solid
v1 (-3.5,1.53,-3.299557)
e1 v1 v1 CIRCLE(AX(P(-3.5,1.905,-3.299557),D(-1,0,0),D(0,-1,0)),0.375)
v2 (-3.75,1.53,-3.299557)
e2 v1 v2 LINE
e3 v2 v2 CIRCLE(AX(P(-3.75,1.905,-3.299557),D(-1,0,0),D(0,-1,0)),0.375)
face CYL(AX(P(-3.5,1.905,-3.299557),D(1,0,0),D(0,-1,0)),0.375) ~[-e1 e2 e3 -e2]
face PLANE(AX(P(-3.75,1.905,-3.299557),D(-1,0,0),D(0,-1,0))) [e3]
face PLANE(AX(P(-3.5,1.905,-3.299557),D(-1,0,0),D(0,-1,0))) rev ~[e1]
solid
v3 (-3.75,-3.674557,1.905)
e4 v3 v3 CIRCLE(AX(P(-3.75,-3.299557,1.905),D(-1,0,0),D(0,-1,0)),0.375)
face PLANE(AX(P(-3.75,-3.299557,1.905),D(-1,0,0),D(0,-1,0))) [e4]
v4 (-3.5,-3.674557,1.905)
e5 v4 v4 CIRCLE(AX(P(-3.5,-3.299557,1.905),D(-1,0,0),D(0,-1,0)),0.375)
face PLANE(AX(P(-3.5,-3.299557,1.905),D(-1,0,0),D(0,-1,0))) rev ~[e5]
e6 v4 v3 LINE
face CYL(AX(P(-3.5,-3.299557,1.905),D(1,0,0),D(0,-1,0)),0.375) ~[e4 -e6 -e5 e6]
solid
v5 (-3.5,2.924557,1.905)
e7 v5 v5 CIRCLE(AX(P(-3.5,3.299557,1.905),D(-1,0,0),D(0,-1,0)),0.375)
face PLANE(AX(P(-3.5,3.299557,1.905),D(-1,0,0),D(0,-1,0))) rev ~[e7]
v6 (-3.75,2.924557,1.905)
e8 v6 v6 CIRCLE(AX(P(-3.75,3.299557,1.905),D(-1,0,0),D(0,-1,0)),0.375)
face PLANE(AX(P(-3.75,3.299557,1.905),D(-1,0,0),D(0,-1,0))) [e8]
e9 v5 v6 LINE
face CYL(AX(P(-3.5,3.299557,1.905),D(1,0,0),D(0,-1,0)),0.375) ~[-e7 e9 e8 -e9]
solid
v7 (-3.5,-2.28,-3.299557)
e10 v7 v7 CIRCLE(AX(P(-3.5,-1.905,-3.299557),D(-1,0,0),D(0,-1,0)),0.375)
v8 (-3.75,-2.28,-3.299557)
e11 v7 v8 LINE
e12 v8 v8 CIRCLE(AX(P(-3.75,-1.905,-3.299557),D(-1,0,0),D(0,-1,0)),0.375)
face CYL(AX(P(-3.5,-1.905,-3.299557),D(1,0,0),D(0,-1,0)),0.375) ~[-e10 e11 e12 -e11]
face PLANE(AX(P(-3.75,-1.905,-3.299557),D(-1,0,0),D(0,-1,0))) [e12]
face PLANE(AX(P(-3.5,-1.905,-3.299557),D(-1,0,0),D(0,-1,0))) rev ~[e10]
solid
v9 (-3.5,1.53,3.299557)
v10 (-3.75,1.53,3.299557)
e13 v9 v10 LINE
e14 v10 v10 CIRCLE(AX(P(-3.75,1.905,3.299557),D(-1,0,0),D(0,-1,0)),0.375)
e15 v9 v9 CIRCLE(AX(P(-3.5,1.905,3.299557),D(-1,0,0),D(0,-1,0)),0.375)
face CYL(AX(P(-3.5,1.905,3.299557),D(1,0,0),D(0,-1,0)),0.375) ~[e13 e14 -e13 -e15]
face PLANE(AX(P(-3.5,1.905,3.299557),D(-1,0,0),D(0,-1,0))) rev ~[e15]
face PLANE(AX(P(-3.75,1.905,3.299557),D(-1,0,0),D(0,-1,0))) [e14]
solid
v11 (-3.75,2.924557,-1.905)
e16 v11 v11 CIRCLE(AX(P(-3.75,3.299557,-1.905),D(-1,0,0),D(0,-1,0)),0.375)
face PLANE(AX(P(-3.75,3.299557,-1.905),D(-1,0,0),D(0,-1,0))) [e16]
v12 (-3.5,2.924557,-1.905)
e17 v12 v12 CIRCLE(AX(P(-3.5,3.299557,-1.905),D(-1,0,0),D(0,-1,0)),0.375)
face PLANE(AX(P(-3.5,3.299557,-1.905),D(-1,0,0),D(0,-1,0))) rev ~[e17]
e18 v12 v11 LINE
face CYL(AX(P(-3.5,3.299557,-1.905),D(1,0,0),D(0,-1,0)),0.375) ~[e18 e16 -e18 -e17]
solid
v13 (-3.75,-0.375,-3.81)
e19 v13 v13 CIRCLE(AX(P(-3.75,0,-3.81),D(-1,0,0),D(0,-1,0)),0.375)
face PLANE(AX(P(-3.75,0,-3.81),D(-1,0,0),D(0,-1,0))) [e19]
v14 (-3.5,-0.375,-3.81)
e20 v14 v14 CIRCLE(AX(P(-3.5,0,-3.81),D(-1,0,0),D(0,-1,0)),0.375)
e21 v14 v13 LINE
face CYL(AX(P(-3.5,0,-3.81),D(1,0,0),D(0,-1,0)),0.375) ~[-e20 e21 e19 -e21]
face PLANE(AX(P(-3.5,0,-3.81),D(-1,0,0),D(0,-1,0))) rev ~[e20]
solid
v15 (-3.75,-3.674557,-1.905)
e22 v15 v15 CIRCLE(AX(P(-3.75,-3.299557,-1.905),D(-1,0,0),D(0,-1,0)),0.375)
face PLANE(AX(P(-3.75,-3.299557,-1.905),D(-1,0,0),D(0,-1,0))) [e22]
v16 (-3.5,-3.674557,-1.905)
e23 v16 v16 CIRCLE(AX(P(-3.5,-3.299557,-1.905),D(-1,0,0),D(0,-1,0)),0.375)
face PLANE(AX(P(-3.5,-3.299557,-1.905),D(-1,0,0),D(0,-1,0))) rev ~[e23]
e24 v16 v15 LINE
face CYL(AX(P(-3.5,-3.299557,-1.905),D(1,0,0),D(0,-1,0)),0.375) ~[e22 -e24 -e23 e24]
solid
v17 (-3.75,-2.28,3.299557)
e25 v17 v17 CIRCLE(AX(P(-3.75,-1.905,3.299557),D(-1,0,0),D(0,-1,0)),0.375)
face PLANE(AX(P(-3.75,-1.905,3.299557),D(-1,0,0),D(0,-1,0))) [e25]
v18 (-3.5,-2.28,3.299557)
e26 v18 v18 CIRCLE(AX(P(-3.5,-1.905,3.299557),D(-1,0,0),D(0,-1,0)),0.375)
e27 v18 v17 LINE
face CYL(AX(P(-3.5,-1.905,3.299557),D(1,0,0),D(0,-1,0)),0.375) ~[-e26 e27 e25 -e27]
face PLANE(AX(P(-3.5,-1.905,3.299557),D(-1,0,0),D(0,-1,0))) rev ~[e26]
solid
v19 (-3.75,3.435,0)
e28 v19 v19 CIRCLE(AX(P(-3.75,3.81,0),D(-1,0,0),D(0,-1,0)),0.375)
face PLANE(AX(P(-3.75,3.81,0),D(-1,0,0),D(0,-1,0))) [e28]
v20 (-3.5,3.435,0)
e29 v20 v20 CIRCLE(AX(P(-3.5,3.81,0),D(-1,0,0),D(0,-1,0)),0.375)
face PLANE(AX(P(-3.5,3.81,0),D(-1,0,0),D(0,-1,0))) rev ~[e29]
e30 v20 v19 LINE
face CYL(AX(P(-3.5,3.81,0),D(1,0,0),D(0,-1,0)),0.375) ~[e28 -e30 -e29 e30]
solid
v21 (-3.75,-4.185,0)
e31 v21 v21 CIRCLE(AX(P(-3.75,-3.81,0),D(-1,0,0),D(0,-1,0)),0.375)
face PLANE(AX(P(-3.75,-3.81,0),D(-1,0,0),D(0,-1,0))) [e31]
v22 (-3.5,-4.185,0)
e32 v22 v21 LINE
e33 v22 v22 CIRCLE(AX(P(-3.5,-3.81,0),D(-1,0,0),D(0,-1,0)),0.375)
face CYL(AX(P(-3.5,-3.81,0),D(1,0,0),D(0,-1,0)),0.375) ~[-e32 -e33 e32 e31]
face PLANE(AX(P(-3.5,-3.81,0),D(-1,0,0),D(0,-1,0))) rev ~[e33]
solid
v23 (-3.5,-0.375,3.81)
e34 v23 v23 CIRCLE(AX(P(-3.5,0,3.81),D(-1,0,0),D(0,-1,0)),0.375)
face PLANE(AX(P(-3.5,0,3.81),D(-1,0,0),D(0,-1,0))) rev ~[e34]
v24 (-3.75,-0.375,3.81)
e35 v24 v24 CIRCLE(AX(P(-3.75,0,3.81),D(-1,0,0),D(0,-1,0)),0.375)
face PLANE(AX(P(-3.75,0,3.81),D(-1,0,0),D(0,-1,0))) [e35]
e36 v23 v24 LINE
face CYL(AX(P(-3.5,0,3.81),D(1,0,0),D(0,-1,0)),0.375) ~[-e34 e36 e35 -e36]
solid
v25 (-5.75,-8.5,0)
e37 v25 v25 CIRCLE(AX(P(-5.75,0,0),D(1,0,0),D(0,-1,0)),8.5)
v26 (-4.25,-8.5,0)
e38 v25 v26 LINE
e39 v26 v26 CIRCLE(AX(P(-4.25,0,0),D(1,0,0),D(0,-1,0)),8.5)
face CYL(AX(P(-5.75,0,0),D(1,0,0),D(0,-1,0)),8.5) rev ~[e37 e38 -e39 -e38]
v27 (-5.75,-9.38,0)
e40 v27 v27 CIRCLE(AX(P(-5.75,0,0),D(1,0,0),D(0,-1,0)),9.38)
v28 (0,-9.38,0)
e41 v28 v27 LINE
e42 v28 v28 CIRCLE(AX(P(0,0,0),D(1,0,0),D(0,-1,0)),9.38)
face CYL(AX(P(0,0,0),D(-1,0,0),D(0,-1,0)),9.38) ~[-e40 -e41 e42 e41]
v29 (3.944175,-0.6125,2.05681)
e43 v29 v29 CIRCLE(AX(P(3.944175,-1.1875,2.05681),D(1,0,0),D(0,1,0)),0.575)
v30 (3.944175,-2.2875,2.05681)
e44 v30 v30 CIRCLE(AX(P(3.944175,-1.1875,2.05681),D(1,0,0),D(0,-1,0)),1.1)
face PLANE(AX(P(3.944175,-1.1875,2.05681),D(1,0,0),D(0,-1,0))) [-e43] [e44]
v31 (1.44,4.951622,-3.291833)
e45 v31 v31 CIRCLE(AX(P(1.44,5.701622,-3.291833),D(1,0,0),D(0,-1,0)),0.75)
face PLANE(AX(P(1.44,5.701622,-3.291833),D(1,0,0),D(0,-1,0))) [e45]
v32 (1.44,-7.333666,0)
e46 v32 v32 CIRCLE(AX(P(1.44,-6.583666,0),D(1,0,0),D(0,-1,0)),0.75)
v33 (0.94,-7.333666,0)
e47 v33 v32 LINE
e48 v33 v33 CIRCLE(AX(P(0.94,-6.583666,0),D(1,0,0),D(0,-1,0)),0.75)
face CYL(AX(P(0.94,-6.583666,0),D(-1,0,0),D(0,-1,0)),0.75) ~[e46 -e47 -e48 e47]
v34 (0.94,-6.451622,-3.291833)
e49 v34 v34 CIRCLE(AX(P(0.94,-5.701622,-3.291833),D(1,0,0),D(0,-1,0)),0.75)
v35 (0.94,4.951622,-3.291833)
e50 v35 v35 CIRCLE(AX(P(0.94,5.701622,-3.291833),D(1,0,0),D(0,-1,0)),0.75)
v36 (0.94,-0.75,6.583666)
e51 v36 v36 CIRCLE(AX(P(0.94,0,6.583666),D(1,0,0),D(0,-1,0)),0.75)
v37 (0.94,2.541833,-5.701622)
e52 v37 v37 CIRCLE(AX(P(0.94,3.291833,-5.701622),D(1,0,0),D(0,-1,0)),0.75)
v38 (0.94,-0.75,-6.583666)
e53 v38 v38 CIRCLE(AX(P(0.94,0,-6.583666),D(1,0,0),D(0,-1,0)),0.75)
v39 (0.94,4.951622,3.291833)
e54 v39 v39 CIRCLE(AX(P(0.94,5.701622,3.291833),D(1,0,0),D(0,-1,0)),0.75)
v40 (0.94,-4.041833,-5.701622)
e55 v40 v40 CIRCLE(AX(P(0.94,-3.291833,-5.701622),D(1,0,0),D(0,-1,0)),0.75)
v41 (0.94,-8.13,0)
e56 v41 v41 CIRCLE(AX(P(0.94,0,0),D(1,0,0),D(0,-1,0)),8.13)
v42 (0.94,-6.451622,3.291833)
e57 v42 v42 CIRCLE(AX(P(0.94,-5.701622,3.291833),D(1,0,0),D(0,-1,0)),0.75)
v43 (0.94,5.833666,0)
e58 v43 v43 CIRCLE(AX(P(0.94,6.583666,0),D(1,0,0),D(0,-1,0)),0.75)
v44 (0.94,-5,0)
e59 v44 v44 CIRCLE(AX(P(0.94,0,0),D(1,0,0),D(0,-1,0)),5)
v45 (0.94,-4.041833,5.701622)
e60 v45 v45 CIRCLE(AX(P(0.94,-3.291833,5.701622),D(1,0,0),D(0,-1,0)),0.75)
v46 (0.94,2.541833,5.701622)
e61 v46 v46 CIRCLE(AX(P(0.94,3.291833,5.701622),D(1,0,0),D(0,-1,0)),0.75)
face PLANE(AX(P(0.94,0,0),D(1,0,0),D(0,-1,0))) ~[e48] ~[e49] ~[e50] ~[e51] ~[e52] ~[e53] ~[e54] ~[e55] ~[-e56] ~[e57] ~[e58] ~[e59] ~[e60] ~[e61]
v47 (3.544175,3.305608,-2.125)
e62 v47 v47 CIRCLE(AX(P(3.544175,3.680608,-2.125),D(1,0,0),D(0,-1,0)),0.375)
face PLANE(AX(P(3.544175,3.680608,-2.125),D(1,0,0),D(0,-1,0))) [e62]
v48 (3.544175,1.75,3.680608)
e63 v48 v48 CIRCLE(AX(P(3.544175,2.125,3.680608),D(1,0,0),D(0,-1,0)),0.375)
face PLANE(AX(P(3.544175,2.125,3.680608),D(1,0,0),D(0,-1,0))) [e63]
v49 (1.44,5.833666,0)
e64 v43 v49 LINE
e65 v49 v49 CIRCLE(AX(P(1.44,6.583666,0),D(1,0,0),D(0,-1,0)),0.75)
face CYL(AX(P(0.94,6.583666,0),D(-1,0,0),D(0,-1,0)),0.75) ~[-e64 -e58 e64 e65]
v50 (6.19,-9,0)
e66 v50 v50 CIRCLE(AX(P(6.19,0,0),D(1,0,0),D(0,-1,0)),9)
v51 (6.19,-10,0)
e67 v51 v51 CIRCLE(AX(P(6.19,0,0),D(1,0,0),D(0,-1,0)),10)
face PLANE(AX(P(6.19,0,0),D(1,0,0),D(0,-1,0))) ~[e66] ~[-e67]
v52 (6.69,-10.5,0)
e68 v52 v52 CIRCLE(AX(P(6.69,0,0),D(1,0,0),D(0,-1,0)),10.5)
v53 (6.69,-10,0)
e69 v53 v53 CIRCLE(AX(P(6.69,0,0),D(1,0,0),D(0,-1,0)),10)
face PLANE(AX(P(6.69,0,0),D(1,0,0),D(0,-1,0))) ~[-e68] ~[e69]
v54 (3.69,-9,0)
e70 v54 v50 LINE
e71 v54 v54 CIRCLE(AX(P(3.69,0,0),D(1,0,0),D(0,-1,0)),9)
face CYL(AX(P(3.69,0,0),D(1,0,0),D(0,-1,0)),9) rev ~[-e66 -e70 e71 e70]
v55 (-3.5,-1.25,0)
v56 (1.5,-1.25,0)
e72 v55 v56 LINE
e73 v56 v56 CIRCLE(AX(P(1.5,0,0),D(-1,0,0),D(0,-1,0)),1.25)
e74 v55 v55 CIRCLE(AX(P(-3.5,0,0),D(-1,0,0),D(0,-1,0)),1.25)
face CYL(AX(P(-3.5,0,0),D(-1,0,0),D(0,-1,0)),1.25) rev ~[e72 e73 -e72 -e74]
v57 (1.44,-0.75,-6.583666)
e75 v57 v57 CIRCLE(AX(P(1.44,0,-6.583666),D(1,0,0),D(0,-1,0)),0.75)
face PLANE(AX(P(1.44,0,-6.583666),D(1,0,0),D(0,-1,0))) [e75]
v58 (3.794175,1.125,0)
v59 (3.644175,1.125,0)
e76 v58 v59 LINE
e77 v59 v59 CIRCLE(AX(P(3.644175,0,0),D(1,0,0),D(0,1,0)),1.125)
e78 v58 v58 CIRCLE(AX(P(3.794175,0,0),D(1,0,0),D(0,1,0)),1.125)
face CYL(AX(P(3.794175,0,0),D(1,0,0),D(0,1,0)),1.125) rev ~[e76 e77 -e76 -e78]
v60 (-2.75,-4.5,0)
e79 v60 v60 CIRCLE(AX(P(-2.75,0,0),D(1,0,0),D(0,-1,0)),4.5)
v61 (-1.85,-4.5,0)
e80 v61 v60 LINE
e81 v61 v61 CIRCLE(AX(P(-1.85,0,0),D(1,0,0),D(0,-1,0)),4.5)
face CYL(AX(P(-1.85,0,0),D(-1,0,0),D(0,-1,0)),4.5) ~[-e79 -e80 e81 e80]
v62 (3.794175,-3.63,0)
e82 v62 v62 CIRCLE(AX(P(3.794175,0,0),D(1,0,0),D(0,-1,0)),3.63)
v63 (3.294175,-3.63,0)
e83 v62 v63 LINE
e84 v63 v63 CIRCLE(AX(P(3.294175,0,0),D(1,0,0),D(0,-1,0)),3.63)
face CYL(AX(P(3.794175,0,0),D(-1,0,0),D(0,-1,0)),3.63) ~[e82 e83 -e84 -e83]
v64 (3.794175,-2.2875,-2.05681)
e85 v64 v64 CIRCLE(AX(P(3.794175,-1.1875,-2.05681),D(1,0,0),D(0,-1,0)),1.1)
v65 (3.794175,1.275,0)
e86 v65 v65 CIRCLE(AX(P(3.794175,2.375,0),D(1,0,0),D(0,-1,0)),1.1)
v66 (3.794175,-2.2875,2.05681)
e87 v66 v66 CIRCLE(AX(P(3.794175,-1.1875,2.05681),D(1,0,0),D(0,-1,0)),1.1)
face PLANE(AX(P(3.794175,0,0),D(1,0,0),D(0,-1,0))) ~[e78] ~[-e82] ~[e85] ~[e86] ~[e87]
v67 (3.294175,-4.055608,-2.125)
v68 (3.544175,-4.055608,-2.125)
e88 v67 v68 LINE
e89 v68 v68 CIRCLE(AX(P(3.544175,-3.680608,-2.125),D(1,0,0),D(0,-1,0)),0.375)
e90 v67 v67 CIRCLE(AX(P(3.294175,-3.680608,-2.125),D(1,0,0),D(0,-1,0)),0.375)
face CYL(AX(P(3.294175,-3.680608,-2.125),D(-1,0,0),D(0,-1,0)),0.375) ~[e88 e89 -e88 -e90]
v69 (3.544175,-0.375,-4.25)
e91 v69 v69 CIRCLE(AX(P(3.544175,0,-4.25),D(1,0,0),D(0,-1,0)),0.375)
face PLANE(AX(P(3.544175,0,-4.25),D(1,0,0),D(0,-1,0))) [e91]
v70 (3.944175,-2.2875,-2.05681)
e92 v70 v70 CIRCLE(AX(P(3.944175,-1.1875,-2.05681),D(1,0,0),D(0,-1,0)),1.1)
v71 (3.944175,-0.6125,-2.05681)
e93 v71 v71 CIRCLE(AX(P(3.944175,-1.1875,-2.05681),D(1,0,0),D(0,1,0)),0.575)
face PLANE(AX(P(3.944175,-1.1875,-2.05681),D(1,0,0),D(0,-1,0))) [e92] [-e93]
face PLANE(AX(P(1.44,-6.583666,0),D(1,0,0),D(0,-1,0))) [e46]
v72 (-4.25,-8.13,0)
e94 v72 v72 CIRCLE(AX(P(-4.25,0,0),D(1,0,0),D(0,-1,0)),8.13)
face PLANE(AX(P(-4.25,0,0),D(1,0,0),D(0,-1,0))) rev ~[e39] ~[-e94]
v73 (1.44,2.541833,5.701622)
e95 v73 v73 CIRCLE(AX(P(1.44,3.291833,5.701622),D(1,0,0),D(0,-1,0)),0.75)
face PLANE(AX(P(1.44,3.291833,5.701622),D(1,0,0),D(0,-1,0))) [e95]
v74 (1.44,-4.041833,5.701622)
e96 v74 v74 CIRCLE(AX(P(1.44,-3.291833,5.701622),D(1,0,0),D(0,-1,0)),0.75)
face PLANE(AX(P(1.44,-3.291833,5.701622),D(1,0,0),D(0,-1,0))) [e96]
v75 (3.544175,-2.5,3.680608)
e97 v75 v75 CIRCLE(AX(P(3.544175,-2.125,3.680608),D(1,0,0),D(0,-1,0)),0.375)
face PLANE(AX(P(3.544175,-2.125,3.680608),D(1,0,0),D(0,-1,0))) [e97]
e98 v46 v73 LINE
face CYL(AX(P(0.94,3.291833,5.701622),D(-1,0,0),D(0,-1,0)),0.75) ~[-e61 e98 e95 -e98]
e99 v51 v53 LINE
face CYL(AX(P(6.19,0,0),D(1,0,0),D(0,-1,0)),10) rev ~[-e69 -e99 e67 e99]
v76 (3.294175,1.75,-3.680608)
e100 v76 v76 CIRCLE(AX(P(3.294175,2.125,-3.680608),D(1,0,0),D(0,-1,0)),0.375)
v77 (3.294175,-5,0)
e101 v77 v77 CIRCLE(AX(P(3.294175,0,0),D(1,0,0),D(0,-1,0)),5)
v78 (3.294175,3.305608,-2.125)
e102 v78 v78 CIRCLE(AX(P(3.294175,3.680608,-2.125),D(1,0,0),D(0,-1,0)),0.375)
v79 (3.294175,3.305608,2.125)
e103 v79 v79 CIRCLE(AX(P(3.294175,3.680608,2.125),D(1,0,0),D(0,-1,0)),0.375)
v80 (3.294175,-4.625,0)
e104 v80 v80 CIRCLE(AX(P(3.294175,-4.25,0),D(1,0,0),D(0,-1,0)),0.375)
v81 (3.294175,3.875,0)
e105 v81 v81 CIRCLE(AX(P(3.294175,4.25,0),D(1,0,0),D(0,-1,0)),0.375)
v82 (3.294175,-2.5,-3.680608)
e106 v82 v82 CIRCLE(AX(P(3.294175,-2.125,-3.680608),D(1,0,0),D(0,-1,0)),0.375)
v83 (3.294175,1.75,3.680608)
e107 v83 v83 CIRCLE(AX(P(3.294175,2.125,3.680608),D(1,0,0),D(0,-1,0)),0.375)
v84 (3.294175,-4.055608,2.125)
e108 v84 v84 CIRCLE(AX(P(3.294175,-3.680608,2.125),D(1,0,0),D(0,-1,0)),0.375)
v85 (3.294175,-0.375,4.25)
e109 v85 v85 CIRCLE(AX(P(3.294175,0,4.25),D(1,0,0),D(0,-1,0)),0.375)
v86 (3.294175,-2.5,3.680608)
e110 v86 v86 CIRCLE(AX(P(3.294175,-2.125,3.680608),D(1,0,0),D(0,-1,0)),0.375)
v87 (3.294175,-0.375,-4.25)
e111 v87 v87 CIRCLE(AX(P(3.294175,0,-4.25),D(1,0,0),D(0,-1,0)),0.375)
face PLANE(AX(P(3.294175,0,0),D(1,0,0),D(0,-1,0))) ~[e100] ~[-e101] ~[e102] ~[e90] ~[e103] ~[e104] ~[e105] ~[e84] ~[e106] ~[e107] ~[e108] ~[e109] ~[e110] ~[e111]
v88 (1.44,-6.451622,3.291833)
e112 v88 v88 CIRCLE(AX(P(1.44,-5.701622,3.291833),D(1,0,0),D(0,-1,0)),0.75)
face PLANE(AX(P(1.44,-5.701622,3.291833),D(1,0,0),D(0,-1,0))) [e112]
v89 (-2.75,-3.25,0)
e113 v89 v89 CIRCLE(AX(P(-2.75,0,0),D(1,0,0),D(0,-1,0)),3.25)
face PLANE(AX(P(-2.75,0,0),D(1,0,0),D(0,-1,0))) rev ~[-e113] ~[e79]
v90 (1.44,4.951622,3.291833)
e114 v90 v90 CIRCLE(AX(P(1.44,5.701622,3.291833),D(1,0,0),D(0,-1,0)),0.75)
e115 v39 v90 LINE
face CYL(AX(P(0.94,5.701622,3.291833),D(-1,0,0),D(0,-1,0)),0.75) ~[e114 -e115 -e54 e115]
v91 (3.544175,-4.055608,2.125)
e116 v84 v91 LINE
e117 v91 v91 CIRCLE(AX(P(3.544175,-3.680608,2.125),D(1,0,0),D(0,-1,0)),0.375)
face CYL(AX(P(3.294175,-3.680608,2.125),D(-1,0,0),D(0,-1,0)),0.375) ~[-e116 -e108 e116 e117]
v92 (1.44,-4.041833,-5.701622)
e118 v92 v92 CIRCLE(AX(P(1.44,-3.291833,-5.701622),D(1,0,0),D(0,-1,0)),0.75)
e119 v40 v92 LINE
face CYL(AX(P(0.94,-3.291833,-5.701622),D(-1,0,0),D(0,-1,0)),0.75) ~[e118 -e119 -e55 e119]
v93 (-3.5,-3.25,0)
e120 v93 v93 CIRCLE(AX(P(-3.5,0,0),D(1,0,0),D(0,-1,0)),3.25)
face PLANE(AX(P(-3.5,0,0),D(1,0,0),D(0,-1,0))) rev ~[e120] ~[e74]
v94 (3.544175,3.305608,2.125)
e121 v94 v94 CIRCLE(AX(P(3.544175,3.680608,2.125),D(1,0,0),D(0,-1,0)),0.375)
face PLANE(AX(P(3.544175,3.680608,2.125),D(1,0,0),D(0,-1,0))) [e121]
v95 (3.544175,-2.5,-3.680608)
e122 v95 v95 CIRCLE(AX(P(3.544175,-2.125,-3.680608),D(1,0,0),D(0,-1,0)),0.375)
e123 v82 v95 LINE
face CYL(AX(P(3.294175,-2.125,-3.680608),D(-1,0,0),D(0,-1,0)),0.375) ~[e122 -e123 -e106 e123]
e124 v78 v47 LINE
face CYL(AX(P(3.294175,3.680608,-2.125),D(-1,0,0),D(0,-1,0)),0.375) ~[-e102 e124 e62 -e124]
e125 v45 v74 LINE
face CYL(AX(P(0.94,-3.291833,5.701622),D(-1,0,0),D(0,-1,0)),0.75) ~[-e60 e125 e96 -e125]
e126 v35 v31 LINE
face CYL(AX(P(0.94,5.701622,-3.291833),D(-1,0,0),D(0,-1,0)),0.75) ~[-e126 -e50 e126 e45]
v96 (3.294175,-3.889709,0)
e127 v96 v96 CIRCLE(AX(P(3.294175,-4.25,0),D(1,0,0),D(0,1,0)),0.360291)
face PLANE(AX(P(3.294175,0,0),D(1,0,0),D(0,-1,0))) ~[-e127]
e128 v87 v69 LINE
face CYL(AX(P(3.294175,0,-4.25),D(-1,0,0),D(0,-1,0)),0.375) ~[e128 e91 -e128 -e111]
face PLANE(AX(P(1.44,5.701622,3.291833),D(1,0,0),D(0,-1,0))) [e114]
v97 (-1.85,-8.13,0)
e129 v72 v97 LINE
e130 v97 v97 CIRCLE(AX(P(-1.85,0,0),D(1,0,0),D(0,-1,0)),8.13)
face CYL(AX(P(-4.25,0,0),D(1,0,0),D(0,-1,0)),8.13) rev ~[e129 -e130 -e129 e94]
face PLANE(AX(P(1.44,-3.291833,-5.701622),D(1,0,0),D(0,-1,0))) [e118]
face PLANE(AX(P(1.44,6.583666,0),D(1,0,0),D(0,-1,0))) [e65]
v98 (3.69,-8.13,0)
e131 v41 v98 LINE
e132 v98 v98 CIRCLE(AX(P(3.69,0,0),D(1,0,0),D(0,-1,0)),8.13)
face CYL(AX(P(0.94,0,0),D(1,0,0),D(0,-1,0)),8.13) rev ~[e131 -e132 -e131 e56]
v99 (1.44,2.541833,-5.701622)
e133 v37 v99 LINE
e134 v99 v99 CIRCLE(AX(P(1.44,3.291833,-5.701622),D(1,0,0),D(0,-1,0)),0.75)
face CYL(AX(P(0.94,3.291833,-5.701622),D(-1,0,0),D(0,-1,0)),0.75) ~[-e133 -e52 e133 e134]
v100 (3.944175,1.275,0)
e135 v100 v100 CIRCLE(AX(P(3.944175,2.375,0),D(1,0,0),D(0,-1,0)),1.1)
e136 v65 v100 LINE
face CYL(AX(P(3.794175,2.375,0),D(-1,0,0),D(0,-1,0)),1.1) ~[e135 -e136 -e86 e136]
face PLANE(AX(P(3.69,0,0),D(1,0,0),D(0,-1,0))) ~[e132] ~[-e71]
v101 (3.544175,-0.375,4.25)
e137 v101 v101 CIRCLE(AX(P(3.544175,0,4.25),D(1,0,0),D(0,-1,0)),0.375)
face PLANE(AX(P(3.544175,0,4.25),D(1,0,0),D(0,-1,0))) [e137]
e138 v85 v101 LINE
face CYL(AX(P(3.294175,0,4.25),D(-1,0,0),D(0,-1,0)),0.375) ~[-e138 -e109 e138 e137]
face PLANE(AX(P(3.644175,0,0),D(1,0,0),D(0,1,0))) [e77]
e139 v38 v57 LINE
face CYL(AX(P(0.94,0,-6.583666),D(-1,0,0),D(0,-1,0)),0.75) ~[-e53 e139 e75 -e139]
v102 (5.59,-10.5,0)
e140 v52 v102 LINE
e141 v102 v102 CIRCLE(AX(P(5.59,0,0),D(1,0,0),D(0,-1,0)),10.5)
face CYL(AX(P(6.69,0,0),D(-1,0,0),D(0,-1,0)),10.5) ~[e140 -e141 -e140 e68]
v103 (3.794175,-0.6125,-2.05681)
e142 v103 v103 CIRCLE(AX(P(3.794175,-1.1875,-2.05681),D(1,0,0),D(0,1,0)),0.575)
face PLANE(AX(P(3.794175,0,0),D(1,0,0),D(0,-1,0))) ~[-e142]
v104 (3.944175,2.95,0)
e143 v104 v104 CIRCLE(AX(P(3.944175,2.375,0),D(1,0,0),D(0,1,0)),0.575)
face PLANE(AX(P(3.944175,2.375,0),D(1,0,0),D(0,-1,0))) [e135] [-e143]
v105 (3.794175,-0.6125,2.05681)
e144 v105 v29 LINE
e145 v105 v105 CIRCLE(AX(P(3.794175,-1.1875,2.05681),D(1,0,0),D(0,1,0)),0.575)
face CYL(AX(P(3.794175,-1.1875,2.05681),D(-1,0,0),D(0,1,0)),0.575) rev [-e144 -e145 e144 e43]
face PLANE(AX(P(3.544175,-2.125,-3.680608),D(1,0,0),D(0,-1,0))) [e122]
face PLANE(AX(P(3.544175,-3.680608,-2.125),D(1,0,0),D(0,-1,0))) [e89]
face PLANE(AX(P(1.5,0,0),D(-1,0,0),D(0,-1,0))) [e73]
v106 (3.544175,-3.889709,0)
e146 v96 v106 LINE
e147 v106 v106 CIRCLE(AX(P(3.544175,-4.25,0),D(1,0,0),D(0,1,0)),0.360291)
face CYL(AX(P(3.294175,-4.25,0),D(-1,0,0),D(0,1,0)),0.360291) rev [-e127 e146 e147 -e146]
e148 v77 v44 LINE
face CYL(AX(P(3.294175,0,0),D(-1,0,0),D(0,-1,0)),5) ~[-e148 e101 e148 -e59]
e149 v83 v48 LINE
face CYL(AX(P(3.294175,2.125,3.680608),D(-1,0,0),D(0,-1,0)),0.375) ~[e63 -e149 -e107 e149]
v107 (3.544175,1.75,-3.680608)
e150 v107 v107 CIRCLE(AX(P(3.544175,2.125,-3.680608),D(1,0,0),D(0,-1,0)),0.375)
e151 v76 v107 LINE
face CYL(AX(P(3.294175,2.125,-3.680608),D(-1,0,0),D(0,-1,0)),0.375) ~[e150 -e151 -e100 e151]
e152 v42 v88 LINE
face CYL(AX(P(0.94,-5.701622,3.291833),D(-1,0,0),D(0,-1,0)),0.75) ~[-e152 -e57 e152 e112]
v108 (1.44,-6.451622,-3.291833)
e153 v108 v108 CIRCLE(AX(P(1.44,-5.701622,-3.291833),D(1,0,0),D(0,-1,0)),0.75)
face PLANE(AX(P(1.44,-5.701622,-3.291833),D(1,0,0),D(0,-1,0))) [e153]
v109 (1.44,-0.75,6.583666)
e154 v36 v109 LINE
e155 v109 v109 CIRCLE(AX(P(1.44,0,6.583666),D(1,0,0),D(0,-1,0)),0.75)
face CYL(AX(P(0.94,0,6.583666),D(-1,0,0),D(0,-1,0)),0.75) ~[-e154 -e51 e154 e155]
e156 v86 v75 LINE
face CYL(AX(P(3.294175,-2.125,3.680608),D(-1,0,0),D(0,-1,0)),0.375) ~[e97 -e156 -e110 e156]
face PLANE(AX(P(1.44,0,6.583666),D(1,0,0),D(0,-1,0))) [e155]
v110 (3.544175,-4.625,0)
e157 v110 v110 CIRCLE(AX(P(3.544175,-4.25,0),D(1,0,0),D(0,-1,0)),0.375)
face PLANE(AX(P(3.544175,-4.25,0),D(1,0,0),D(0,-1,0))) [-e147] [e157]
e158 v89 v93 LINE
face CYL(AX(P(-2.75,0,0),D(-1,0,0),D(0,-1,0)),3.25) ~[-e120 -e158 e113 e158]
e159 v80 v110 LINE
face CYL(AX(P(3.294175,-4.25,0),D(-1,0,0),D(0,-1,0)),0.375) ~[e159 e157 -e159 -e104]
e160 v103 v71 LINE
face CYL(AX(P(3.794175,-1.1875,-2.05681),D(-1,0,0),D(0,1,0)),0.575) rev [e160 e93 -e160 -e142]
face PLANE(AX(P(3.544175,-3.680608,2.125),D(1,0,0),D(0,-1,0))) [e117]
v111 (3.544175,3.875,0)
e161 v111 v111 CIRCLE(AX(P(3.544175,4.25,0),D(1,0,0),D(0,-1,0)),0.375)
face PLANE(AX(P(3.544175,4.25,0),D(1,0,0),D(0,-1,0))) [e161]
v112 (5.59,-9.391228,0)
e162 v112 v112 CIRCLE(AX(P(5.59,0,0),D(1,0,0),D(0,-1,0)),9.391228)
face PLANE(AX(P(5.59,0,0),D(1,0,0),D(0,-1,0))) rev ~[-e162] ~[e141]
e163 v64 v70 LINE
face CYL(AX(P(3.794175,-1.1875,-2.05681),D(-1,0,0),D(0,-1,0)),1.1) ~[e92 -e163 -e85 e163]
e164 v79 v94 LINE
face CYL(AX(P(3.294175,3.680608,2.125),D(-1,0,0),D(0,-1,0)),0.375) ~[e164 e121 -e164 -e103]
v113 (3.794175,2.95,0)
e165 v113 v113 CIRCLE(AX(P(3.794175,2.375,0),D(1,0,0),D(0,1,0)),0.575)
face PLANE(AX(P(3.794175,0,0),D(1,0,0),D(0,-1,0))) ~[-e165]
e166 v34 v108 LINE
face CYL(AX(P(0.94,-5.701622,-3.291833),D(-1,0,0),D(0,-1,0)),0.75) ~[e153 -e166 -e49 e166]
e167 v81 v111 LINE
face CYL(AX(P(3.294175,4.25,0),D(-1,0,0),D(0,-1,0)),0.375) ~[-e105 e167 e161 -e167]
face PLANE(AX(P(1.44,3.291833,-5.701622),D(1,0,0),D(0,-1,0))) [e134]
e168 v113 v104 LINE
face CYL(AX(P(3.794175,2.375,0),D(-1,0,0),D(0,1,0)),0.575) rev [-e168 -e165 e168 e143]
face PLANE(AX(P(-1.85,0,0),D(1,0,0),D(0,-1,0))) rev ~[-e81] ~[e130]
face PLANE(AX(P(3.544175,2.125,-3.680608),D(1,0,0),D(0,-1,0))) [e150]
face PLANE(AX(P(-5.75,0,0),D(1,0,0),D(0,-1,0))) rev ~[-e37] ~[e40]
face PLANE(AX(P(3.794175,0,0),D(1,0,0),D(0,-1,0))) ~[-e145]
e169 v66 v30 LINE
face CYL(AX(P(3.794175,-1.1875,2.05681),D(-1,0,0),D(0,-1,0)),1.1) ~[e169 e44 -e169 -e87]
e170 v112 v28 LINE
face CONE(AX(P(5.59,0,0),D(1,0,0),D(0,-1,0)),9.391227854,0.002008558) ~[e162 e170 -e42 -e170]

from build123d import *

# Parameters (mm, degrees)
SKETCH2_R              = 0.75
BOSS_EXTRUDE1_DEPTH    = 0.5
SKETCH3_R              = 0.375
SKETCH3_R_2            = 0.360290664
BOSS_EXTRUDE2_DEPTH    = 0.25
SKETCH4_R              = 1.125
CUT_EXTRUDE2_DEPTH     = 0.15
SKETCH5_R              = 1.1
SKETCH5_R_2            = 0.575
BOSS_EXTRUDE3_DEPTH    = 0.15
SKETCH6_R              = 0.375
BOSS_EXTRUDE4_DEPTH    = 0.25
BOSS_EXTRUDE4_2_DEPTH  = 0.25
BOSS_EXTRUDE4_3_DEPTH  = 0.25
BOSS_EXTRUDE4_4_DEPTH  = 0.25
BOSS_EXTRUDE4_5_DEPTH  = 0.25
BOSS_EXTRUDE4_6_DEPTH  = 0.25
BOSS_EXTRUDE4_7_DEPTH  = 0.25
BOSS_EXTRUDE4_8_DEPTH  = 0.25
BOSS_EXTRUDE4_9_DEPTH  = 0.25
BOSS_EXTRUDE4_10_DEPTH = 0.25
BOSS_EXTRUDE4_11_DEPTH = 0.25
BOSS_EXTRUDE4_12_DEPTH = 0.25
SKETCH7_R              = 1.25
CUT_EXTRUDE3_DEPTH     = 5


with BuildPart() as part:
    # Sketch1 → Revolve1 (revolve)
    with BuildSketch(Plane.XY, mode=Mode.PRIVATE) as revolve1_sk:
        Polygon((-3.5, 0), (3.794174888, 0), (3.794174888, 3.63), (3.294174888, 3.63), (3.294174888, 5), (0.94, 5), (0.94, 8.13), (3.69, 8.13), (3.69, 9), (6.19, 9), (6.19, 10), (6.69, 10), (6.69, 10.5), (5.59, 10.5), (5.59, 9.391227854), (0, 9.38), (-5.75, 9.38), (-5.75, 8.5), (-4.25, 8.5), (-4.25, 8.13), (-1.85, 8.13), (-1.85, 4.5), (-2.75, 4.5), (-2.75, 3.25), (-3.5, 3.25), align=None)
    revolve(revolve1_sk.sketch.rotate(Axis((-3.5, 0, 0), (1, 0, 0)), 180), axis=Axis((-3.5, 0, 0), (1, 0, 0)))

    # Sketch2 → Boss-Extrude1 (add)
    with BuildSketch(Plane(origin=(0.94, 0, 0), x_dir=(0, 0, -1), z_dir=(1, 0, 0))):
        with Locations(Location((-3.291833092, 5.701622165, 0), (0, 0, 270))):
            Circle(SKETCH2_R)
        with Locations(Location((0, 6.583666184, 0), (0, 0, 270))):
            Circle(SKETCH2_R)
        with Locations(Location((3.291833092, 5.701622165, 0), (0, 0, 270))):
            Circle(SKETCH2_R)
        with Locations(Location((5.701622165, 3.291833092, 0), (0, 0, 270))):
            Circle(SKETCH2_R)
        with Locations(Location((6.583666184, 0, 0), (0, 0, 270))):
            Circle(SKETCH2_R)
        with Locations(Location((-5.701622165, 3.291833092, 0), (0, 0, 270))):
            Circle(SKETCH2_R)
        with Locations(Location((-5.701622165, -3.291833092, 0), (0, 0, 270))):
            Circle(SKETCH2_R)
        with Locations(Location((-3.291833092, -5.701622165, 0), (0, 0, 270))):
            Circle(SKETCH2_R)
        with Locations(Location((0, -6.583666184, 0), (0, 0, 270))):
            Circle(SKETCH2_R)
        with Locations(Location((5.701622165, -3.291833092, 0), (0, 0, 270))):
            Circle(SKETCH2_R)
        with Locations(Location((-6.583666184, 0, 0), (0, 0, 270))):
            Circle(SKETCH2_R)
        with Locations(Location((3.291833092, -5.701622165, 0), (0, 0, 270))):
            Circle(SKETCH2_R)
    extrude(amount=BOSS_EXTRUDE1_DEPTH)

    # Sketch3 → Boss-Extrude2 (add)
    # profile 1 of 12: a face of its own
    with BuildSketch(Plane(origin=(3.294174888, 0, 0), x_dir=(0, 0, -1), z_dir=(1, 0, 0))):
        with Locations(Location((0, 4.25, 0), (0, 0, 270))):
            Circle(SKETCH3_R)
    # profile 2 of 12: a face of its own
    with BuildSketch(Plane(origin=(3.294174888, 0, 0), x_dir=(0, 0, -1), z_dir=(1, 0, 0))):
        with Locations(Location((2.125, 3.680607966, 0), (0, 0, 270))):
            Circle(SKETCH3_R)
    # profile 3 of 12: a face of its own
    with BuildSketch(Plane(origin=(3.294174888, 0, 0), x_dir=(0, 0, -1), z_dir=(1, 0, 0))):
        with Locations(Location((3.680607966, 2.125, 0), (0, 0, 270))):
            Circle(SKETCH3_R)
    # profile 4 of 12: a face of its own
    with BuildSketch(Plane(origin=(3.294174888, 0, 0), x_dir=(0, 0, -1), z_dir=(1, 0, 0))):
        with Locations(Location((4.25, 0, 0), (0, 0, 270))):
            Circle(SKETCH3_R)
    # profile 5 of 12: a face of its own
    with BuildSketch(Plane(origin=(3.294174888, 0, 0), x_dir=(0, 0, -1), z_dir=(1, 0, 0))):
        with Locations(Location((3.680607966, -2.125, 0), (0, 0, 270))):
            Circle(SKETCH3_R)
    # profile 6 of 12: a face of its own
    with BuildSketch(Plane(origin=(3.294174888, 0, 0), x_dir=(0, 0, -1), z_dir=(1, 0, 0))):
        with Locations(Location((2.125, -3.680607966, 0), (0, 0, 270))):
            Circle(SKETCH3_R)
    # profile 7 of 12: a face of its own
    with BuildSketch(Plane(origin=(3.294174888, 0, 0), x_dir=(0, 0, -1), z_dir=(1, 0, 0))):
        with Locations(Location((0, -4.25, 0), (0, 0, 270))):
            Circle(SKETCH3_R)
        with Locations(Location((0, -4.25, 0), (0, 0, 90))):
            Circle(SKETCH3_R_2, mode=Mode.SUBTRACT)
    # profile 8 of 12: a face of its own
    with BuildSketch(Plane(origin=(3.294174888, 0, 0), x_dir=(0, 0, -1), z_dir=(1, 0, 0))):
        with Locations(Location((-2.125, -3.680607966, 0), (0, 0, 270))):
            Circle(SKETCH3_R)
    # profile 9 of 12: a face of its own
    with BuildSketch(Plane(origin=(3.294174888, 0, 0), x_dir=(0, 0, -1), z_dir=(1, 0, 0))):
        with Locations(Location((-3.680607966, -2.125, 0), (0, 0, 270))):
            Circle(SKETCH3_R)
    # profile 10 of 12: a face of its own
    with BuildSketch(Plane(origin=(3.294174888, 0, 0), x_dir=(0, 0, -1), z_dir=(1, 0, 0))):
        with Locations(Location((-4.25, 0, 0), (0, 0, 270))):
            Circle(SKETCH3_R)
    # profile 11 of 12: a face of its own
    with BuildSketch(Plane(origin=(3.294174888, 0, 0), x_dir=(0, 0, -1), z_dir=(1, 0, 0))):
        with Locations(Location((-3.680607966, 2.125, 0), (0, 0, 270))):
            Circle(SKETCH3_R)
    # profile 12 of 12: a face of its own
    with BuildSketch(Plane(origin=(3.294174888, 0, 0), x_dir=(0, 0, -1), z_dir=(1, 0, 0))):
        with Locations(Location((-2.125, 3.680607966, 0), (0, 0, 270))):
            Circle(SKETCH3_R)
    extrude(amount=BOSS_EXTRUDE2_DEPTH)

    # Sketch4 → Cut-Extrude2 (cut)
    with BuildSketch(Plane(origin=(3.794174888, 0, 0), x_dir=(0, 0, -1), z_dir=(1, 0, 0))):
        with Locations(Location((0, 0, 0), (0, 0, 90))):
            Circle(SKETCH4_R)
    extrude(amount=-CUT_EXTRUDE2_DEPTH, mode=Mode.SUBTRACT)

    # Sketch5 → Boss-Extrude3 (add)
    # profile 1 of 3: a face of its own
    with BuildSketch(Plane(origin=(3.794174888, 0, 0), x_dir=(0, 0, -1), z_dir=(1, 0, 0))):
        with Locations(Location((0, 2.375, 0), (0, 0, 270))):
            Circle(SKETCH5_R)
        with Locations(Location((0, 2.375, 0), (0, 0, 90))):
            Circle(SKETCH5_R_2, mode=Mode.SUBTRACT)
    # profile 2 of 3: a face of its own
    with BuildSketch(Plane(origin=(3.794174888, 0, 0), x_dir=(0, 0, -1), z_dir=(1, 0, 0))):
        with Locations(Location((2.056810334, -1.1875, 0), (0, 0, 270))):
            Circle(SKETCH5_R)
        with Locations(Location((2.056810334, -1.1875, 0), (0, 0, 90))):
            Circle(SKETCH5_R_2, mode=Mode.SUBTRACT)
    # profile 3 of 3: a face of its own
    with BuildSketch(Plane(origin=(3.794174888, 0, 0), x_dir=(0, 0, -1), z_dir=(1, 0, 0))):
        with Locations(Location((-2.056810334, -1.1875, 0), (0, 0, 270))):
            Circle(SKETCH5_R)
        with Locations(Location((-2.056810334, -1.1875, 0), (0, 0, 90))):
            Circle(SKETCH5_R_2, mode=Mode.SUBTRACT)
    extrude(amount=BOSS_EXTRUDE3_DEPTH)

    # Sketch7 → Cut-Extrude3 (cut)
    with BuildSketch(Plane.ZY.offset(3.5)):
        with Locations(Location((0, 0, 0), (0, 0, 270))):
            Circle(SKETCH7_R)
    extrude(amount=-CUT_EXTRUDE3_DEPTH, mode=Mode.SUBTRACT)


with BuildPart() as body_2:
    # Sketch6 → Boss-Extrude4 (new body)
    with BuildSketch(Plane.ZY.offset(3.5)):
        with Locations(Location((0, 3.81, 0), (0, 0, 270))):
            Circle(SKETCH6_R)
    extrude(amount=BOSS_EXTRUDE4_DEPTH)


with BuildPart() as body_3:
    # Sketch6 → Boss-Extrude4 2 (new body)
    with BuildSketch(Plane.ZY.offset(3.5)):
        with Locations(Location((1.905, 3.299556788, 0), (0, 0, 270))):
            Circle(SKETCH6_R)
    extrude(amount=BOSS_EXTRUDE4_2_DEPTH)


with BuildPart() as body_4:
    # Sketch6 → Boss-Extrude4 3 (new body)
    with BuildSketch(Plane.ZY.offset(3.5)):
        with Locations(Location((3.299556788, 1.905, 0), (0, 0, 270))):
            Circle(SKETCH6_R)
    extrude(amount=BOSS_EXTRUDE4_3_DEPTH)


with BuildPart() as body_5:
    # Sketch6 → Boss-Extrude4 4 (new body)
    with BuildSketch(Plane.ZY.offset(3.5)):
        with Locations(Location((3.81, 0, 0), (0, 0, 270))):
            Circle(SKETCH6_R)
    extrude(amount=BOSS_EXTRUDE4_4_DEPTH)


with BuildPart() as body_6:
    # Sketch6 → Boss-Extrude4 5 (new body)
    with BuildSketch(Plane.ZY.offset(3.5)):
        with Locations(Location((3.299556788, -1.905, 0), (0, 0, 270))):
            Circle(SKETCH6_R)
    extrude(amount=BOSS_EXTRUDE4_5_DEPTH)


with BuildPart() as body_7:
    # Sketch6 → Boss-Extrude4 6 (new body)
    with BuildSketch(Plane.ZY.offset(3.5)):
        with Locations(Location((1.905, -3.299556788, 0), (0, 0, 270))):
            Circle(SKETCH6_R)
    extrude(amount=BOSS_EXTRUDE4_6_DEPTH)


with BuildPart() as body_8:
    # Sketch6 → Boss-Extrude4 7 (new body)
    with BuildSketch(Plane.ZY.offset(3.5)):
        with Locations(Location((0, -3.81, 0), (0, 0, 270))):
            Circle(SKETCH6_R)
    extrude(amount=BOSS_EXTRUDE4_7_DEPTH)


with BuildPart() as body_9:
    # Sketch6 → Boss-Extrude4 8 (new body)
    with BuildSketch(Plane.ZY.offset(3.5)):
        with Locations(Location((-1.905, -3.299556788, 0), (0, 0, 270))):
            Circle(SKETCH6_R)
    extrude(amount=BOSS_EXTRUDE4_8_DEPTH)


with BuildPart() as body_10:
    # Sketch6 → Boss-Extrude4 9 (new body)
    with BuildSketch(Plane.ZY.offset(3.5)):
        with Locations(Location((-3.299556788, -1.905, 0), (0, 0, 270))):
            Circle(SKETCH6_R)
    extrude(amount=BOSS_EXTRUDE4_9_DEPTH)


with BuildPart() as body_11:
    # Sketch6 → Boss-Extrude4 10 (new body)
    with BuildSketch(Plane.ZY.offset(3.5)):
        with Locations(Location((-3.81, 0, 0), (0, 0, 270))):
            Circle(SKETCH6_R)
    extrude(amount=BOSS_EXTRUDE4_10_DEPTH)


with BuildPart() as body_12:
    # Sketch6 → Boss-Extrude4 11 (new body)
    with BuildSketch(Plane.ZY.offset(3.5)):
        with Locations(Location((-3.299556788, 1.905, 0), (0, 0, 270))):
            Circle(SKETCH6_R)
    extrude(amount=BOSS_EXTRUDE4_11_DEPTH)


with BuildPart() as body_13:
    # Sketch6 → Boss-Extrude4 12 (new body)
    with BuildSketch(Plane.ZY.offset(3.5)):
        with Locations(Location((-1.905, 3.299556788, 0), (0, 0, 270))):
            Circle(SKETCH6_R)
    extrude(amount=BOSS_EXTRUDE4_12_DEPTH)


solid = Compound([part.part, body_2.part, body_3.part, body_4.part, body_5.part, body_6.part, body_7.part, body_8.part, body_9.part, body_10.part, body_11.part, body_12.part, body_13.part])
